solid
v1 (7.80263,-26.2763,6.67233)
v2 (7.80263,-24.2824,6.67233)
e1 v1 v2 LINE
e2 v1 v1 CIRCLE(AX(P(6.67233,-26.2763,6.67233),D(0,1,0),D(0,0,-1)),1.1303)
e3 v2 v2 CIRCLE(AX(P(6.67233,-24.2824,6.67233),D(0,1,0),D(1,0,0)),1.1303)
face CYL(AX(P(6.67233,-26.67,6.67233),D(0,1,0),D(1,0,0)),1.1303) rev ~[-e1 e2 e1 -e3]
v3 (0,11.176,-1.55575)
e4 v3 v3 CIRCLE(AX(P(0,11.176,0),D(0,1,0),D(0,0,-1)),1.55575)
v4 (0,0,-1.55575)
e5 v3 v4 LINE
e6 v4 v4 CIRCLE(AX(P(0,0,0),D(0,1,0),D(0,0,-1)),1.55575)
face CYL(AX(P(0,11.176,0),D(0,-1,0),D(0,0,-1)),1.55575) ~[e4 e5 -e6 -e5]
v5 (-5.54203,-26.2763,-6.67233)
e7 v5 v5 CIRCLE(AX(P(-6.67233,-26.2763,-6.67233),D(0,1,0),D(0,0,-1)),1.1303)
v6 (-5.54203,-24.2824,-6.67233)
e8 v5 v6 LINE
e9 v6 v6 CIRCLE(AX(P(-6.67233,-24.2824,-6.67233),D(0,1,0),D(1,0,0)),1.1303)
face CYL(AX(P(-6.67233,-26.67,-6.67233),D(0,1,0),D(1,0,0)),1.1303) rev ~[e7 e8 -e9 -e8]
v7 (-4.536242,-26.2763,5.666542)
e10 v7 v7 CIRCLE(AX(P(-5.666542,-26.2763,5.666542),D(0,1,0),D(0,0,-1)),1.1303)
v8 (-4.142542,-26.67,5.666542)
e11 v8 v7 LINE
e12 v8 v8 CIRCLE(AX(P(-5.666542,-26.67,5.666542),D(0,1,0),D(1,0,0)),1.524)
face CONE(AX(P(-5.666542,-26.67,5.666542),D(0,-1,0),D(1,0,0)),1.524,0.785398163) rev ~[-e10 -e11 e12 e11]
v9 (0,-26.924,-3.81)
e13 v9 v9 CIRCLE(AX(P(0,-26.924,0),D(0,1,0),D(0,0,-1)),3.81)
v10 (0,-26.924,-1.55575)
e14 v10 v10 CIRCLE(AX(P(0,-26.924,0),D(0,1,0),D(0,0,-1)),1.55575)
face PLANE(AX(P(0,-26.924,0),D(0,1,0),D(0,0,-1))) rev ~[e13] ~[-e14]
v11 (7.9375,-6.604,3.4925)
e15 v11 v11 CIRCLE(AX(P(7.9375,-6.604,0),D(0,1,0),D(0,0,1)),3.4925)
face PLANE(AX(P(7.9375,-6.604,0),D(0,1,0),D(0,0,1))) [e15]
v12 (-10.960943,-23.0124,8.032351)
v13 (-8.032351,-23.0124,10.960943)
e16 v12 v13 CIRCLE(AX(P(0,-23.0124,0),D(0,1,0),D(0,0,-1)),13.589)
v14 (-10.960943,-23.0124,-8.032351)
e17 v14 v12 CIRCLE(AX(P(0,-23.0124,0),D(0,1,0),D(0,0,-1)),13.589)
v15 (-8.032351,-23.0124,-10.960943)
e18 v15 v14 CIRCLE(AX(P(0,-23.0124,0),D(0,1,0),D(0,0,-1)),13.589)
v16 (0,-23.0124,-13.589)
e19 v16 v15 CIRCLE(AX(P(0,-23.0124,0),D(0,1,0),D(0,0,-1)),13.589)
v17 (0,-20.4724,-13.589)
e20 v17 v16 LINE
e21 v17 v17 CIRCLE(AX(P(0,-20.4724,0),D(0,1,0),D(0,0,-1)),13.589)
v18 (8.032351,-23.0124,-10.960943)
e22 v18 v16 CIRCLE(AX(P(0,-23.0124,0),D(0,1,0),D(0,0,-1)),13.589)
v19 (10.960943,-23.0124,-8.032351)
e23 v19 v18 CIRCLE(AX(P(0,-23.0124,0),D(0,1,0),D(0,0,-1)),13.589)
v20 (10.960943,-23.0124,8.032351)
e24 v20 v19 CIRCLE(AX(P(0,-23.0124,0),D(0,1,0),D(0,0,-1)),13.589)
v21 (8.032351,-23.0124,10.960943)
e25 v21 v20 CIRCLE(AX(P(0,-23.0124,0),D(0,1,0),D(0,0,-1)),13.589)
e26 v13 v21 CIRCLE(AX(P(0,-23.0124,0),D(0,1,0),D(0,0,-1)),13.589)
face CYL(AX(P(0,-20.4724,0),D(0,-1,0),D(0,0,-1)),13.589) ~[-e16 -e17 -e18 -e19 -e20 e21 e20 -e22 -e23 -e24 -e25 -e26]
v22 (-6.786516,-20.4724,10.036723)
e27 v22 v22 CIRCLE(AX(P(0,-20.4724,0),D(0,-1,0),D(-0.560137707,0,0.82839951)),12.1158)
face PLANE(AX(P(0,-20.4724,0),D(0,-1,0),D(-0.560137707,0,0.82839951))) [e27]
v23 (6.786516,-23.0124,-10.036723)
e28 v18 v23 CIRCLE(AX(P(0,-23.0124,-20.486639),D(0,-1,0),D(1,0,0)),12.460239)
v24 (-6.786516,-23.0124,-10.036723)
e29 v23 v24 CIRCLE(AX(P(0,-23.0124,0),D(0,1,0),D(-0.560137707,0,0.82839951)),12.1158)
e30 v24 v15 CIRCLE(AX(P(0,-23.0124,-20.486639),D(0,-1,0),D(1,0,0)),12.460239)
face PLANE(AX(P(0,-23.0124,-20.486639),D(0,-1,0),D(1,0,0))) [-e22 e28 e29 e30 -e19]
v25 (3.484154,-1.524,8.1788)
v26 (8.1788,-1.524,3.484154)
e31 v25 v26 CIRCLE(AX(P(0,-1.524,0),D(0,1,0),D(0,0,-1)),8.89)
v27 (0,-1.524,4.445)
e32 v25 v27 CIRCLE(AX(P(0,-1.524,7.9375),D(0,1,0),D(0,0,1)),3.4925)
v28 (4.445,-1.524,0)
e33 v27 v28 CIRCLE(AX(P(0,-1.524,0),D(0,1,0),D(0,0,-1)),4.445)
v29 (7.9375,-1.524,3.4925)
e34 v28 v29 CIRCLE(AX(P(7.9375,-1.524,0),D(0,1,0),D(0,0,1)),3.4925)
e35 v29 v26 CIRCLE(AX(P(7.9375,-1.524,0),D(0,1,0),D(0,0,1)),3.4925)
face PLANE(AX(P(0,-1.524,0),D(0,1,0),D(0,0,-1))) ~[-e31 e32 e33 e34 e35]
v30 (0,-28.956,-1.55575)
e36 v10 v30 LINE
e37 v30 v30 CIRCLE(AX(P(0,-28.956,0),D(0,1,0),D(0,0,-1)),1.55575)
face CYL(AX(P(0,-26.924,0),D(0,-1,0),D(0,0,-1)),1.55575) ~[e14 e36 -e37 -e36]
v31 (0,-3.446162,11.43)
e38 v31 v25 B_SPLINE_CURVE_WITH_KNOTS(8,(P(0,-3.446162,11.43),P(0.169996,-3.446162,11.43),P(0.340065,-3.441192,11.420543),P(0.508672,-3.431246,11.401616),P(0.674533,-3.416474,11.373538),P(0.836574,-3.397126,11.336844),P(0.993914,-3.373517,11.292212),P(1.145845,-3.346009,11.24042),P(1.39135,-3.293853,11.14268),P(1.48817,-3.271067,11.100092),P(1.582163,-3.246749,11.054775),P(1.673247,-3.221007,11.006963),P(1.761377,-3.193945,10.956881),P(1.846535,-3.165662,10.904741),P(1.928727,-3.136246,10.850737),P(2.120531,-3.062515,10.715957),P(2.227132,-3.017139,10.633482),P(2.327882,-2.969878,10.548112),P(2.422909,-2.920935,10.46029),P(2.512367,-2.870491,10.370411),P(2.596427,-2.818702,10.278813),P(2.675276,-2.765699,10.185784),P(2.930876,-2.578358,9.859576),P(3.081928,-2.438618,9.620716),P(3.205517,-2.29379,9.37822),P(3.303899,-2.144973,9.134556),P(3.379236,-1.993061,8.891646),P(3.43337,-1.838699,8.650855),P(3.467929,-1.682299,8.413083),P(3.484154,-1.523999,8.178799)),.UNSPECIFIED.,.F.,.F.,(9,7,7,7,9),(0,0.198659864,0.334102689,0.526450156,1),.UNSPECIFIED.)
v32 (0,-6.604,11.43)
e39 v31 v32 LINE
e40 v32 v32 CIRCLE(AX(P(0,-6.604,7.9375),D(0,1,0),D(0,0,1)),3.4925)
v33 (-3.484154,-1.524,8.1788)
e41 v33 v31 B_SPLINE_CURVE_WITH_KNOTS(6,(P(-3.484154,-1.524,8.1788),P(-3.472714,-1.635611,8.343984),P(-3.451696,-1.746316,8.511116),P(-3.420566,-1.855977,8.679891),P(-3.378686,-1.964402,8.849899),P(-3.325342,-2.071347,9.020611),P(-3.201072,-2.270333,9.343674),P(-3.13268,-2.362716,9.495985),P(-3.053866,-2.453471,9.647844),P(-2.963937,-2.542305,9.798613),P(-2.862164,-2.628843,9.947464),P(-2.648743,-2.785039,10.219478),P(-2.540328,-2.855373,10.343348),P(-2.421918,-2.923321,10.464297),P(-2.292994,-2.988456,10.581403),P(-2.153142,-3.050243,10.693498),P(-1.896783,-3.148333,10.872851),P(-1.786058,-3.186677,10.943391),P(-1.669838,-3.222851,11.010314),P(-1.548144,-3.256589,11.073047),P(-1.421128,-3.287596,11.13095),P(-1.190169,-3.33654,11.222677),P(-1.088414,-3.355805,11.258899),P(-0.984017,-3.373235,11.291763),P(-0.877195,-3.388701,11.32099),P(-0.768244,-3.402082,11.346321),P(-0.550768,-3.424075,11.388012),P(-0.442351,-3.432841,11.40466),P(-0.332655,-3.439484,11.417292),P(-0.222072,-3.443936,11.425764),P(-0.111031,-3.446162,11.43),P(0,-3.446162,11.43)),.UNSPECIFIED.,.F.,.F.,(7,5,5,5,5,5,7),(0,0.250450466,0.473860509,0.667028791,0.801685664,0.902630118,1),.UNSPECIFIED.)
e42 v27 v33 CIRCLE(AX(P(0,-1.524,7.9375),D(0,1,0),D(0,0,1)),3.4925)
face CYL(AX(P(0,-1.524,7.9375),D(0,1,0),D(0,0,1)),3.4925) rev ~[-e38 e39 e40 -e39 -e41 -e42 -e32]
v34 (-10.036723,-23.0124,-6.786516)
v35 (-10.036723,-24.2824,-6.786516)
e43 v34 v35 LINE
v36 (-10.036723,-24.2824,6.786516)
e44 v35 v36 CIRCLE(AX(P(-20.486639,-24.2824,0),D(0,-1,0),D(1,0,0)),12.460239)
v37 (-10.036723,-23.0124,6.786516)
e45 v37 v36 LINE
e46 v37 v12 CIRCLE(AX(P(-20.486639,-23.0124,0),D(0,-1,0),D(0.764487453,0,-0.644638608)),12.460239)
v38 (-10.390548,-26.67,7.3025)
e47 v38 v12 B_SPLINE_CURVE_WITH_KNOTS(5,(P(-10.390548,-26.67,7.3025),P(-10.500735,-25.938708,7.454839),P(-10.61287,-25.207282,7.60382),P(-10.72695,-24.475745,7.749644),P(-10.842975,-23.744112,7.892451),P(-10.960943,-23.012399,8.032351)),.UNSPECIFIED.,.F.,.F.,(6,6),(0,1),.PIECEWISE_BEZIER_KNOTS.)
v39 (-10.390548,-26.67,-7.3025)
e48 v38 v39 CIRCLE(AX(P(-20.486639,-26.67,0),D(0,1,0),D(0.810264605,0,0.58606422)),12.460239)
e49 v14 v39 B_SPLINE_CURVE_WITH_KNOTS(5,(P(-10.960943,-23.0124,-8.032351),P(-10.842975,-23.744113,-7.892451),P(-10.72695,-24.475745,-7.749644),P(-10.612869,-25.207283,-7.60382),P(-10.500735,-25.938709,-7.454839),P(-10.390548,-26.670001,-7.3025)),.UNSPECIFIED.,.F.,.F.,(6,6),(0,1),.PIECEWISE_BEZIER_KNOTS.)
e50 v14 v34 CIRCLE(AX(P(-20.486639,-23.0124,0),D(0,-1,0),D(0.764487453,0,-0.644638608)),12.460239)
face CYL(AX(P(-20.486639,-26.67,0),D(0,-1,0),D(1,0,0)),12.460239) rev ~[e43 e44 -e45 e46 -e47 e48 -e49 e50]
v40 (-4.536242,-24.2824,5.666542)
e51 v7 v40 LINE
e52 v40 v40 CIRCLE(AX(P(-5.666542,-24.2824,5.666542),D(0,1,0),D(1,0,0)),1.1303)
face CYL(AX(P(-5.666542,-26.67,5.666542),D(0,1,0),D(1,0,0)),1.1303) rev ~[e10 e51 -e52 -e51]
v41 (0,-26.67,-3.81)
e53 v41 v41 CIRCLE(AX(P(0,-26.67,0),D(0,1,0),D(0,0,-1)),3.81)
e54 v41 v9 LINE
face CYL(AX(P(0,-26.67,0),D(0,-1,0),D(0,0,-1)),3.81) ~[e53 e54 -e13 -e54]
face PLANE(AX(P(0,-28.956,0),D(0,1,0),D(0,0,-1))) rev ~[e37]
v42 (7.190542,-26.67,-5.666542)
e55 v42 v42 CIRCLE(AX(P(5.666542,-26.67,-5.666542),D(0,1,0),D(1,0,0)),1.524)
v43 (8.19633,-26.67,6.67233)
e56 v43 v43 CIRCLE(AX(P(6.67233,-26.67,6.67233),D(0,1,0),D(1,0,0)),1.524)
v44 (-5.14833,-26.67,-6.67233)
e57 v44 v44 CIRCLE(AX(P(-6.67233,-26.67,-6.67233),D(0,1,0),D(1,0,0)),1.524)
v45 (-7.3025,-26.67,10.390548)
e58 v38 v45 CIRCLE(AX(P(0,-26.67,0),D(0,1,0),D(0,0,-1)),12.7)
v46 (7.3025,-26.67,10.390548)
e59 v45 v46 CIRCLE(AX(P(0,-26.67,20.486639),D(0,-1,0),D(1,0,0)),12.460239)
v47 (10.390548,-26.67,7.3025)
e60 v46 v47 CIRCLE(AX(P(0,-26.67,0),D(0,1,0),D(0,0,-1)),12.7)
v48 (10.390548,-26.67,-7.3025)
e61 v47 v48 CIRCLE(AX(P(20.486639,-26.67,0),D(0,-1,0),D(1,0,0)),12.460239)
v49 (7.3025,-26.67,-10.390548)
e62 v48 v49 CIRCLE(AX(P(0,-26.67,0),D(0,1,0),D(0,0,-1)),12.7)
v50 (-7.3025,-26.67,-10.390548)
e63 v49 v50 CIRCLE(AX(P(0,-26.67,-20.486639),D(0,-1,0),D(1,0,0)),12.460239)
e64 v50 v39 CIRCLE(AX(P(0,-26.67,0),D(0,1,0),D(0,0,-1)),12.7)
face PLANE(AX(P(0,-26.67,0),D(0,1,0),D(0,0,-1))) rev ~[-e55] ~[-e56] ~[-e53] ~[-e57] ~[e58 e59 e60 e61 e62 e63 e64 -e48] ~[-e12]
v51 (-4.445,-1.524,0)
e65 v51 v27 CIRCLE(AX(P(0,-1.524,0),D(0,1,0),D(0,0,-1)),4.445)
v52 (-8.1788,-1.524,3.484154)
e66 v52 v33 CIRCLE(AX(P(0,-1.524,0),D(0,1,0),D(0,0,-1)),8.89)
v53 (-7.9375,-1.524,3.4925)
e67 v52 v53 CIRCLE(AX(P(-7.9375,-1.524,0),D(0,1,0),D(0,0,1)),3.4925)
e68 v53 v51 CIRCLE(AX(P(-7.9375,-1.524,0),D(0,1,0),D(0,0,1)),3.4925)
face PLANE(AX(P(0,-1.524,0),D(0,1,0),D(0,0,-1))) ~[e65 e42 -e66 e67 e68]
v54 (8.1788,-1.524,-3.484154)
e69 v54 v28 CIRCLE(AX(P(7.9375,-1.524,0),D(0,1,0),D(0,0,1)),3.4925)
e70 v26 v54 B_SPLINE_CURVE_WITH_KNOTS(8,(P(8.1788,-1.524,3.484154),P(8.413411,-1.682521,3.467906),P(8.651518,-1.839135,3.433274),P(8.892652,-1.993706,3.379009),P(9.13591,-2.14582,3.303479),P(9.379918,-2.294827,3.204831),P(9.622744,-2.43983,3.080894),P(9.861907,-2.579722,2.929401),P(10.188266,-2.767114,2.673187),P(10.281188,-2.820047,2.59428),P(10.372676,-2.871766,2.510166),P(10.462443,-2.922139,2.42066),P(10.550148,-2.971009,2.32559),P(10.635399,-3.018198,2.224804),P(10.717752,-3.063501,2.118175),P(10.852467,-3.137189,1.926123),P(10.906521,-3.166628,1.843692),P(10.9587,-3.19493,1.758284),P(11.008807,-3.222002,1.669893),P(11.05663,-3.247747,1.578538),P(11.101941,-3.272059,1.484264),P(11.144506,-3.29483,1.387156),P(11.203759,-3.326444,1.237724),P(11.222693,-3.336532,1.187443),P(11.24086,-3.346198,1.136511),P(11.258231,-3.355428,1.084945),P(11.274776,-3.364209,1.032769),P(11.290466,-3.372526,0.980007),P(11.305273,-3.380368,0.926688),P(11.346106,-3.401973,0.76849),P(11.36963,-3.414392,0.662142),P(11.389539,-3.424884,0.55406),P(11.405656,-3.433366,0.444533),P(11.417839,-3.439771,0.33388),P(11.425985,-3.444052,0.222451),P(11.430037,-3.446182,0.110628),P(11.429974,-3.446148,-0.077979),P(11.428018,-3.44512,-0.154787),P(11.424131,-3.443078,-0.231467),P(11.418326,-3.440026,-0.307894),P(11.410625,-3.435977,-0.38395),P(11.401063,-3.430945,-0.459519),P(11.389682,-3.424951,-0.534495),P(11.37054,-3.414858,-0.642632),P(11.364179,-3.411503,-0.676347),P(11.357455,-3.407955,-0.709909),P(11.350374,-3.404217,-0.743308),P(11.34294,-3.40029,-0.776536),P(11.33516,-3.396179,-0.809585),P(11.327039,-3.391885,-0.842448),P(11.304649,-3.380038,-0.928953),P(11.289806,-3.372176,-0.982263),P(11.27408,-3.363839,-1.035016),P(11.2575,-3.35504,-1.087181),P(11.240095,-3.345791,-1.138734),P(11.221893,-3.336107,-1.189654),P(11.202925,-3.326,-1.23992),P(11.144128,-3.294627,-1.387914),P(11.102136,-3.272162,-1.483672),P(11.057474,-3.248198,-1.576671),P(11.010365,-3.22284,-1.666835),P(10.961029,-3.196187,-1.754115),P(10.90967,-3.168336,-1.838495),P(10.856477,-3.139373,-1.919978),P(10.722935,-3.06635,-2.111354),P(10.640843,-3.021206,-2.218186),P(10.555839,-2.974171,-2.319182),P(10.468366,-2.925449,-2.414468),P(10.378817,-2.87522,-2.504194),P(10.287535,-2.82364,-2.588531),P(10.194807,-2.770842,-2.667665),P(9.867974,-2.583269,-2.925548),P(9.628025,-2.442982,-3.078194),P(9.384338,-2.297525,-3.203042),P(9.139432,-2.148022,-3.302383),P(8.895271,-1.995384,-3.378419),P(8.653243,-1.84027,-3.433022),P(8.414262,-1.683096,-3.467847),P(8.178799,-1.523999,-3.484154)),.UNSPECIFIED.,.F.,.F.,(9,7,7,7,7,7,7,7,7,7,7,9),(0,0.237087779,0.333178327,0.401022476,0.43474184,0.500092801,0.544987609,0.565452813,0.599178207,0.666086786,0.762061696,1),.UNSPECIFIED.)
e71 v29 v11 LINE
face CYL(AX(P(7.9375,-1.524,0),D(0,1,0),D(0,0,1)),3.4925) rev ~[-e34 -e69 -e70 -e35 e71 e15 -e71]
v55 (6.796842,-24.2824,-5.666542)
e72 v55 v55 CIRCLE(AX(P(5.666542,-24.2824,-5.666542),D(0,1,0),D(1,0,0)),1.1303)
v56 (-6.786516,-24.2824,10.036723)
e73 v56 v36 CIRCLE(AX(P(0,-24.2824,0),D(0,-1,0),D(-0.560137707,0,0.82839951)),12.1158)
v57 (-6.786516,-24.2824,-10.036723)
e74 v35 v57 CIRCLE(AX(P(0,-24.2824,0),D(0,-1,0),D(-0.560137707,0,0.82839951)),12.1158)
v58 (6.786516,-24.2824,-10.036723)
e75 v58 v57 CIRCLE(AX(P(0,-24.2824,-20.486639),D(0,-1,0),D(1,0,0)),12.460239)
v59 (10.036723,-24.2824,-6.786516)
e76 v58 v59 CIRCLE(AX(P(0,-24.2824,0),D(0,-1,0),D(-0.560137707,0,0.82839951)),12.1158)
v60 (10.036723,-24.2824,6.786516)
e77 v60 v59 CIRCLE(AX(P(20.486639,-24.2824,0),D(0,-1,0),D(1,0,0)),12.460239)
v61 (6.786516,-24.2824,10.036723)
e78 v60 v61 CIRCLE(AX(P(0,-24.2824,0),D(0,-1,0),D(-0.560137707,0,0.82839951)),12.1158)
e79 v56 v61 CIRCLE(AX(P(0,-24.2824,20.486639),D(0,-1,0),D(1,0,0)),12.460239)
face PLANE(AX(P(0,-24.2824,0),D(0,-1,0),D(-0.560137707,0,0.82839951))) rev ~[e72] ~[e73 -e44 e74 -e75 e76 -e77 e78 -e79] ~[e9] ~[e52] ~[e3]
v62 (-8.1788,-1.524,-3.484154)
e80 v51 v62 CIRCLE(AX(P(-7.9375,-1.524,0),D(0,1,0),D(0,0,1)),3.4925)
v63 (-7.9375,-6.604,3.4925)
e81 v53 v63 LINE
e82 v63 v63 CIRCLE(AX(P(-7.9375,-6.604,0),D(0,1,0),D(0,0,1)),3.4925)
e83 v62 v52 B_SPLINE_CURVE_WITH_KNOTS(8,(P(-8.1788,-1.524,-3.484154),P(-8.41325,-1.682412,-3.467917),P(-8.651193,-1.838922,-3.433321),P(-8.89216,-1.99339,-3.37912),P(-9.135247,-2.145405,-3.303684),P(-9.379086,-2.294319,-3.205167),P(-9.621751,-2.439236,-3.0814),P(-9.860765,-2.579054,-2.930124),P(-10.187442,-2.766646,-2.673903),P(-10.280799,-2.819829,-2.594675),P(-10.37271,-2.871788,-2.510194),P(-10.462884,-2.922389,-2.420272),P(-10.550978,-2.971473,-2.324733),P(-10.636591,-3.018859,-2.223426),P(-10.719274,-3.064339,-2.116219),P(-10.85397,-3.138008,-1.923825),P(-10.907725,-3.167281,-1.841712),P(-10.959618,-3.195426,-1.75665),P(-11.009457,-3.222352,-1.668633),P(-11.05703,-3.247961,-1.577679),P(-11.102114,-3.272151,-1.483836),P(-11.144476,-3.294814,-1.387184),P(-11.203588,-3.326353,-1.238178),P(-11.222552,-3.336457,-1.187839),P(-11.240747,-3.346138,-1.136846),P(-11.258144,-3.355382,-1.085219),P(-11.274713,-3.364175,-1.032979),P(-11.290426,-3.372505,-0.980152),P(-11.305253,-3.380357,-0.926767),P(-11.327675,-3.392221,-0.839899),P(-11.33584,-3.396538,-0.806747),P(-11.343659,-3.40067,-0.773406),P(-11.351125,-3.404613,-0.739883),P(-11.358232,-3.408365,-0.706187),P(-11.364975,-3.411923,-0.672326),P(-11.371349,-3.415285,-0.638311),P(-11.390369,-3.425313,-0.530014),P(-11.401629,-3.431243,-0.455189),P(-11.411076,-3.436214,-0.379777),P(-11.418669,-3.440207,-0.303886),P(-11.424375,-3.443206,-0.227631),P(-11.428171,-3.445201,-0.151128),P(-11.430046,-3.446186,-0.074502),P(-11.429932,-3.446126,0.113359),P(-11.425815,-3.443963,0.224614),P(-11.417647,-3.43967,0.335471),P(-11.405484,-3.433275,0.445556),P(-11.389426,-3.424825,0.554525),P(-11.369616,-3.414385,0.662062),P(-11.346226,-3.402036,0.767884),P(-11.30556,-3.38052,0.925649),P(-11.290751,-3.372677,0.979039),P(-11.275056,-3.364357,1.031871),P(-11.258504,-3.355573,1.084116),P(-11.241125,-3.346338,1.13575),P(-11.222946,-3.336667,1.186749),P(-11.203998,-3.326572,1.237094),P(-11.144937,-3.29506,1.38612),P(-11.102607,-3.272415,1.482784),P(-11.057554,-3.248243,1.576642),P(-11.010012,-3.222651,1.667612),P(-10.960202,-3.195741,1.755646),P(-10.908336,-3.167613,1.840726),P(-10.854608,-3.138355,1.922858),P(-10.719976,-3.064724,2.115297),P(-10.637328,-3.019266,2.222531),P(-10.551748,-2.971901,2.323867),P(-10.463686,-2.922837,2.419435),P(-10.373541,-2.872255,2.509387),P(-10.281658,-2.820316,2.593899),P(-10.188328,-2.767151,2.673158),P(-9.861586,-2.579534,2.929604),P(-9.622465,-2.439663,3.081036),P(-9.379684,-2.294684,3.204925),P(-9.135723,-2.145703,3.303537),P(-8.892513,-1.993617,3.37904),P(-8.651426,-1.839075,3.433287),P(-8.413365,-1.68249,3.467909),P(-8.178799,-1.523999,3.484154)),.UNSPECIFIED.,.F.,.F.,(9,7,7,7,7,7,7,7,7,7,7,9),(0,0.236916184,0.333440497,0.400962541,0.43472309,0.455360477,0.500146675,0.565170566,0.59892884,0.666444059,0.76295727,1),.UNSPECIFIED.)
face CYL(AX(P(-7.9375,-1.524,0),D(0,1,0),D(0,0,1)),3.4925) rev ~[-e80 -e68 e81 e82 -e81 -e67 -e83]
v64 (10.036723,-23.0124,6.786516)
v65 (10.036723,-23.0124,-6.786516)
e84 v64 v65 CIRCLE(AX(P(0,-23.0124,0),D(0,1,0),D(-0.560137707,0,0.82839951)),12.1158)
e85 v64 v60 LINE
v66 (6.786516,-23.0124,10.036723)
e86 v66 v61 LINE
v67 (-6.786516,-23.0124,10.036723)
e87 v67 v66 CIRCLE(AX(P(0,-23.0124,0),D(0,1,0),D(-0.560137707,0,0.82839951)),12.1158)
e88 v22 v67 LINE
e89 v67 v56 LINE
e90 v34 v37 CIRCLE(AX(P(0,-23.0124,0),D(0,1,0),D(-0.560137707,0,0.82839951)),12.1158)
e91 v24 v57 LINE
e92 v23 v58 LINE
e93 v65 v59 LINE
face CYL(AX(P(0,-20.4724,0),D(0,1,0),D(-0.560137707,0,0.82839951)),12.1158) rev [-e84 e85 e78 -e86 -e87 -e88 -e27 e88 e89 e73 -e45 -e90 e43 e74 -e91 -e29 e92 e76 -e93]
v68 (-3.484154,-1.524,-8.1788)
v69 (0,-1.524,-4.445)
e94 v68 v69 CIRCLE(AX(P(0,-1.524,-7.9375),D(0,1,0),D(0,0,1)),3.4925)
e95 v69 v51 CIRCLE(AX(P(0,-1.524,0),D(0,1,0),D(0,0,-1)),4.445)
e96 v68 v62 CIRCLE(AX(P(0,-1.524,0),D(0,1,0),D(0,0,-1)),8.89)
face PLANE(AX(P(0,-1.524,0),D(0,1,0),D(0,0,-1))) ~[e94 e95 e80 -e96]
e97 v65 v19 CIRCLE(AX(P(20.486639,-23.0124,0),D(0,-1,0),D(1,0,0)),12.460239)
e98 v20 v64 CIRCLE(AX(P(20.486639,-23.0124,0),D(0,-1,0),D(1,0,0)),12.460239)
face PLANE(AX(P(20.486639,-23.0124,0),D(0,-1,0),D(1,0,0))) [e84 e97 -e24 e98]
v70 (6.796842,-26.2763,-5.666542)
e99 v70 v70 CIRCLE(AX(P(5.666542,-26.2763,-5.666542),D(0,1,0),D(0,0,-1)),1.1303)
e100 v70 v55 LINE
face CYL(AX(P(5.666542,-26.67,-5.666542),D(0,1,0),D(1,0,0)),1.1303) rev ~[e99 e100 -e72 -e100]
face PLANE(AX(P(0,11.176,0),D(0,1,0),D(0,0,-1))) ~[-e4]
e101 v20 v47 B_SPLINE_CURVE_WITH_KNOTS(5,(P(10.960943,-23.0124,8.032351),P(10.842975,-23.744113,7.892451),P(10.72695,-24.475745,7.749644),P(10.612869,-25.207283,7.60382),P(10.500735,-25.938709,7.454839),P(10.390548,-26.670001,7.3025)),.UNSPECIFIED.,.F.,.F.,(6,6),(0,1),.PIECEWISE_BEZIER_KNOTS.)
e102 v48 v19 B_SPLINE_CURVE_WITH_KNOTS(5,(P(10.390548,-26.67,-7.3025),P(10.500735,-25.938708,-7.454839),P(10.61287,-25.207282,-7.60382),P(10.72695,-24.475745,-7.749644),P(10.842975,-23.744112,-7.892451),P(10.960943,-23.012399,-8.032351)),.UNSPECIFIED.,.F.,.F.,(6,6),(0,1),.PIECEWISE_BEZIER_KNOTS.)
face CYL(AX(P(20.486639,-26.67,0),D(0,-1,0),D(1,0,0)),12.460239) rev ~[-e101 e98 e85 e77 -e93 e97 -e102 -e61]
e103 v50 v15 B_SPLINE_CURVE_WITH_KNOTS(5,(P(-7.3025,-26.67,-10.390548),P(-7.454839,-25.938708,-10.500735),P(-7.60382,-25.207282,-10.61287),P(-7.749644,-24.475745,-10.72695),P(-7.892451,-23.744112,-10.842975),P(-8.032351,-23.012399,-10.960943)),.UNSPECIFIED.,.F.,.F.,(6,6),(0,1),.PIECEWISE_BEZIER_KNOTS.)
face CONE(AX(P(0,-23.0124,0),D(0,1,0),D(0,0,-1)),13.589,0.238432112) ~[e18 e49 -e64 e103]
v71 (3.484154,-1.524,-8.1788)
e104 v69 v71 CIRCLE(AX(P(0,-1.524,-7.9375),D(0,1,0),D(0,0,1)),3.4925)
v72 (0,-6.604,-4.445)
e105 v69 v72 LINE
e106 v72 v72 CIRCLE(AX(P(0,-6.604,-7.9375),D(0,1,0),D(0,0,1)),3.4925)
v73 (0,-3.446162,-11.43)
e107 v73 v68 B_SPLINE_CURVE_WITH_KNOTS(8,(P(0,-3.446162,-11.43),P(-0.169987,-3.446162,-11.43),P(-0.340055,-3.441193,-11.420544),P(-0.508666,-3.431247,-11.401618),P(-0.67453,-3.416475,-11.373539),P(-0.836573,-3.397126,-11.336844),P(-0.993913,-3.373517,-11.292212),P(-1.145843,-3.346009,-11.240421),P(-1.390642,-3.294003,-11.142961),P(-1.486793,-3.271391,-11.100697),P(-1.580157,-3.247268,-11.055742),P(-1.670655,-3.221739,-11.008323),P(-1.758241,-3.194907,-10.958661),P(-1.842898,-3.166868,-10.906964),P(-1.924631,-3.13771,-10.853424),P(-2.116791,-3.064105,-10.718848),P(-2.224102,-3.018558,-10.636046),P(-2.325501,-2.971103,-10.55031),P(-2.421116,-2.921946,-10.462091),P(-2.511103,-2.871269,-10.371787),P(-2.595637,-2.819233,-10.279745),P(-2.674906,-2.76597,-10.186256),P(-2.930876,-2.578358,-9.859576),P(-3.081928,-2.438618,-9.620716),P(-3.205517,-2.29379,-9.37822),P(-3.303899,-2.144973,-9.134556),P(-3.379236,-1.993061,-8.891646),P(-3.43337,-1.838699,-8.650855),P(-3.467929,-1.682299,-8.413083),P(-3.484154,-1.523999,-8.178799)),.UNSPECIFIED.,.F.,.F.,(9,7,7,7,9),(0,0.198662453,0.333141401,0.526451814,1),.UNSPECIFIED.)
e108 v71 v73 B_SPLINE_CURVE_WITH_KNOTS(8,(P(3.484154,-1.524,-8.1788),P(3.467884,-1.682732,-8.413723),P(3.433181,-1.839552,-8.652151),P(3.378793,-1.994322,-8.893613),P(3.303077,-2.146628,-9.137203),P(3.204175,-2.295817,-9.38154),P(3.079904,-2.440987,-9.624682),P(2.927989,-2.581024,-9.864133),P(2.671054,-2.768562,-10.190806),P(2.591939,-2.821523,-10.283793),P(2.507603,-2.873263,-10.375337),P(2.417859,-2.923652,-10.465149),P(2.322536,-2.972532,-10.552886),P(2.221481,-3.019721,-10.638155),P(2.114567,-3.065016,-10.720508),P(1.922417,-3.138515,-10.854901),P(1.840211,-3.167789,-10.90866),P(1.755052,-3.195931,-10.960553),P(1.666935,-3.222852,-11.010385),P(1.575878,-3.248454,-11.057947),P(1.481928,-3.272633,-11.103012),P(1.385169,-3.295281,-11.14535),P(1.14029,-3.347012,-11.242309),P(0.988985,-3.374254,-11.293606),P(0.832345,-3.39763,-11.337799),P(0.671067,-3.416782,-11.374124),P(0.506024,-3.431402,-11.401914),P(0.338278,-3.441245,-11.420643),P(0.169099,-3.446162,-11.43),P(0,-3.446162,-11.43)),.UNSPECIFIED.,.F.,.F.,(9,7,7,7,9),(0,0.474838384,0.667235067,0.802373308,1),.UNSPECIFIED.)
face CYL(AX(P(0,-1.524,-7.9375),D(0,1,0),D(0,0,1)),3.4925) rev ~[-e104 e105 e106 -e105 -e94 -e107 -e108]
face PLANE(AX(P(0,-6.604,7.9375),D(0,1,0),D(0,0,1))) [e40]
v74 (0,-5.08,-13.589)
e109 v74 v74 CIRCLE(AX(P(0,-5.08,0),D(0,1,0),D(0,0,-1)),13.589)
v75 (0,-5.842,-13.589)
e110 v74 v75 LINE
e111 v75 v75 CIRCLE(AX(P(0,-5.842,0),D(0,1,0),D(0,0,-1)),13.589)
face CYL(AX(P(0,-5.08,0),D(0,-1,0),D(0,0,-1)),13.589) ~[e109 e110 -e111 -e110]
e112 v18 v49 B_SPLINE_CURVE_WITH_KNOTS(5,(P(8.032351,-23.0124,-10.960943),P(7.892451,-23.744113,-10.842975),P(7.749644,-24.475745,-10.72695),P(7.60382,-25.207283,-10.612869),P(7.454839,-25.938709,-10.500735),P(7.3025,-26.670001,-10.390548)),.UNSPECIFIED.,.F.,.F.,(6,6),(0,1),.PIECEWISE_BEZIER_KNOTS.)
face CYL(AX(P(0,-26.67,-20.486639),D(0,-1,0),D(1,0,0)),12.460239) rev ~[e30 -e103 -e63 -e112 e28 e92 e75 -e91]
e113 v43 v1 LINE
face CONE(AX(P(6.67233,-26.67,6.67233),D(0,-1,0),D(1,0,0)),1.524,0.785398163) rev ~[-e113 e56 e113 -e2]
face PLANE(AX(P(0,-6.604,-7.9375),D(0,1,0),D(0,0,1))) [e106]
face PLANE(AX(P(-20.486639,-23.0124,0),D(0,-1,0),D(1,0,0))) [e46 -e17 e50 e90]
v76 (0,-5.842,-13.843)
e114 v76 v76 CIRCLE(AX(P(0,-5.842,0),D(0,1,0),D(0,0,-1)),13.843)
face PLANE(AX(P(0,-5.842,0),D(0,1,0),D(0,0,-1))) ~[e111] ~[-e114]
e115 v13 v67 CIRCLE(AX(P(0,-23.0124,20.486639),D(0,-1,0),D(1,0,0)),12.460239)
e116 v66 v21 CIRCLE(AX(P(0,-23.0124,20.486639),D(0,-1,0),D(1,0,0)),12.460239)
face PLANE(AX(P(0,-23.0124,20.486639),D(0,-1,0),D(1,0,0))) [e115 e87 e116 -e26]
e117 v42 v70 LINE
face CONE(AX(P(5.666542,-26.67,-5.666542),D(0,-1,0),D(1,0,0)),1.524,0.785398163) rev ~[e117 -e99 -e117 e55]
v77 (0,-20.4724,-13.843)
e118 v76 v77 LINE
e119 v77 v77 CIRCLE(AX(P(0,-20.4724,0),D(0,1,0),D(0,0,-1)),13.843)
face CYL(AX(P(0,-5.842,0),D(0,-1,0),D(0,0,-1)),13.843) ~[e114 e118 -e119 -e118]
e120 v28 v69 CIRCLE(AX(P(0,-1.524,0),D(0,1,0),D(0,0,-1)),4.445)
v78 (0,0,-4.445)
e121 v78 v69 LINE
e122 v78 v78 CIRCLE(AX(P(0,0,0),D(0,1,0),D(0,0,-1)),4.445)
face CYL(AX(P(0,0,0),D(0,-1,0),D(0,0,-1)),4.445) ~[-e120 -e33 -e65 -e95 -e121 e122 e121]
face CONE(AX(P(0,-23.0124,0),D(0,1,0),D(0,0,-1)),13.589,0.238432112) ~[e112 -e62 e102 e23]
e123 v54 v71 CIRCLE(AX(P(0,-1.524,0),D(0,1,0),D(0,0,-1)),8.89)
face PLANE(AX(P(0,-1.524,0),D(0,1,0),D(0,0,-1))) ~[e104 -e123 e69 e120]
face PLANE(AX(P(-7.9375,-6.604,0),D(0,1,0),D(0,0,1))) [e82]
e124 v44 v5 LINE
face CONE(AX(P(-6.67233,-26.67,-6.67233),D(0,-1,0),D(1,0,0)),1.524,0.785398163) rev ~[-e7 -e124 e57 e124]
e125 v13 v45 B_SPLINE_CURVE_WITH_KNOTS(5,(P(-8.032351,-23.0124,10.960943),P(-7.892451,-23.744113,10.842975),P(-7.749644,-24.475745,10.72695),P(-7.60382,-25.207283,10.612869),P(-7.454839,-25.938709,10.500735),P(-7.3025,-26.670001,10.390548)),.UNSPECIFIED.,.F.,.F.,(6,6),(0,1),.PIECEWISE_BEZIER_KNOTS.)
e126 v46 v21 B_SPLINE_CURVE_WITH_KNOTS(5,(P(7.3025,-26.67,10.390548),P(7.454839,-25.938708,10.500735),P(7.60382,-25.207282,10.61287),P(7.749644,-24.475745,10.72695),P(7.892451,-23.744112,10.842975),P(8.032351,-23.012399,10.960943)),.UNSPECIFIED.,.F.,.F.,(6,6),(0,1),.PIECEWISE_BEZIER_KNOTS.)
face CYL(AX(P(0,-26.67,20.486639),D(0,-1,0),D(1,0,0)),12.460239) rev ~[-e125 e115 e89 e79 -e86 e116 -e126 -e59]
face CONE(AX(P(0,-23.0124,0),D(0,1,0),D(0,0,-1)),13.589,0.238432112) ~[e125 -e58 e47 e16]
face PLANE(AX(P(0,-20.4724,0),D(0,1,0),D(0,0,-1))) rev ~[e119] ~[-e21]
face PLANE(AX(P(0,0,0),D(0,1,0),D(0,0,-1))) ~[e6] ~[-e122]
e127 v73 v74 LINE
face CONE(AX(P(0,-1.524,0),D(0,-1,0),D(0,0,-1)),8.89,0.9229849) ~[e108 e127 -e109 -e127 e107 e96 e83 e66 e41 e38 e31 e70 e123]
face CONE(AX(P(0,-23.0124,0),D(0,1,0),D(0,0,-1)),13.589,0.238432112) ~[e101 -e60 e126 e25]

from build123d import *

# Parameters (mm, degrees)
SKETCH2_R                       = 3.4925
CUT_EXTRUDE1_DEPTH              = 5.08
SKETCH3_R                       = 12.460238567
CUT_EXTRUDE2_DEPTH              = 3.6576
CUT_EXTRUDE3_DEPTH              = 1.27
CUT_EXTRUDE3_DEPTH_BACK         = 2.54
SKETCH4_R                       = 12.1158
F_4_40_TAPPED_HOLE1_D           = 2.2606
F_4_40_TAPPED_HOLE1_DEPTH       = 2.54
F_4_40_TAPPED_HOLE1_CSINK_D     = 3.048
F_4_40_TAPPED_HOLE1_CSINK_ANGLE = 90
F_4_40_TAPPED_HOLE1_TIP         = 0.679152758


with BuildPart() as part:
    # Sketch1 → Revolve1 (revolve)
    with BuildSketch(Plane.XY, mode=Mode.PRIVATE) as revolve1_sk:
        Polygon((0, 11.176), (1.55575, 11.176), (1.55575, 0), (4.445, 0), (4.445, -1.524), (8.89, -1.524), (13.589, -5.08), (13.589, -5.842), (13.843, -5.842), (13.843, -20.4724), (13.589, -20.4724), (13.589, -23.0124), (12.7, -26.67), (3.81, -26.67), (3.81, -26.924), (1.55575, -26.924), (1.55575, -28.956), (0, -28.956), align=None)
    revolve(revolve1_sk.sketch.rotate(Axis((0, -28.956, 0), (0, 1, 0)), 90), axis=Axis((0, -28.956, 0), (0, 1, 0)))

    # Sketch2 → Cut-Extrude1 (cut)
    with BuildSketch(Plane(origin=(0, -1.524, 0), x_dir=(1, 0, 0), z_dir=(0, 1, 0))):
        with Locations(Location((0, 7.9375, 0), (0, 0, 270))):
            Circle(SKETCH2_R)
        with Locations(Location((7.9375, 0, 0), (0, 0, 270))):
            Circle(SKETCH2_R)
        with Locations(Location((0, -7.9375, 0), (0, 0, 270))):
            Circle(SKETCH2_R)
        with Locations(Location((-7.9375, 0, 0), (0, 0, 270))):
            Circle(SKETCH2_R)
    extrude(amount=-CUT_EXTRUDE1_DEPTH, mode=Mode.SUBTRACT)

    # Sketch3 → Cut-Extrude2 (cut)
    with BuildSketch(Plane.XZ.offset(26.67)):
        with Locations((0, 20.486638567)):
            Circle(SKETCH3_R)
        with Locations((-20.486638567, 0)):
            Circle(SKETCH3_R)
        with Locations((0, -20.486638567)):
            Circle(SKETCH3_R)
        with Locations((20.486638567, 0)):
            Circle(SKETCH3_R)
    extrude(amount=-CUT_EXTRUDE2_DEPTH, mode=Mode.SUBTRACT)

    # Sketch4 → Cut-Extrude3 (cut, two sides: drawn at the far end of the back side and taken through both)
    with BuildSketch(Plane.XZ.offset(23.0124).offset(-CUT_EXTRUDE3_DEPTH_BACK)):
        with Locations(Location((0, 0, 0), (0, 0, 124.065321666))):
            Circle(SKETCH4_R)
    extrude(amount=CUT_EXTRUDE3_DEPTH + CUT_EXTRUDE3_DEPTH_BACK, mode=Mode.SUBTRACT)

    # #4-40 Tapped Hole1
    with Locations(Plane(origin=(0, -26.67, 0), x_dir=(-1, 0, 0), z_dir=(0, -1, 0))):
        with Locations((5.666541612, -5.666541612), (-6.672330298, -6.672330298), (-5.666541612, 5.666541612), (6.672330298, 6.672330298)):
            CounterSinkHole(F_4_40_TAPPED_HOLE1_D / 2, F_4_40_TAPPED_HOLE1_CSINK_D / 2, depth=F_4_40_TAPPED_HOLE1_DEPTH, counter_sink_angle=F_4_40_TAPPED_HOLE1_CSINK_ANGLE)
            with Locations((0, 0, -(F_4_40_TAPPED_HOLE1_DEPTH + F_4_40_TAPPED_HOLE1_TIP / 2))):  # 118° drill point
                Cone(0, F_4_40_TAPPED_HOLE1_D / 2, F_4_40_TAPPED_HOLE1_TIP, mode=Mode.SUBTRACT)


solid = part.part
